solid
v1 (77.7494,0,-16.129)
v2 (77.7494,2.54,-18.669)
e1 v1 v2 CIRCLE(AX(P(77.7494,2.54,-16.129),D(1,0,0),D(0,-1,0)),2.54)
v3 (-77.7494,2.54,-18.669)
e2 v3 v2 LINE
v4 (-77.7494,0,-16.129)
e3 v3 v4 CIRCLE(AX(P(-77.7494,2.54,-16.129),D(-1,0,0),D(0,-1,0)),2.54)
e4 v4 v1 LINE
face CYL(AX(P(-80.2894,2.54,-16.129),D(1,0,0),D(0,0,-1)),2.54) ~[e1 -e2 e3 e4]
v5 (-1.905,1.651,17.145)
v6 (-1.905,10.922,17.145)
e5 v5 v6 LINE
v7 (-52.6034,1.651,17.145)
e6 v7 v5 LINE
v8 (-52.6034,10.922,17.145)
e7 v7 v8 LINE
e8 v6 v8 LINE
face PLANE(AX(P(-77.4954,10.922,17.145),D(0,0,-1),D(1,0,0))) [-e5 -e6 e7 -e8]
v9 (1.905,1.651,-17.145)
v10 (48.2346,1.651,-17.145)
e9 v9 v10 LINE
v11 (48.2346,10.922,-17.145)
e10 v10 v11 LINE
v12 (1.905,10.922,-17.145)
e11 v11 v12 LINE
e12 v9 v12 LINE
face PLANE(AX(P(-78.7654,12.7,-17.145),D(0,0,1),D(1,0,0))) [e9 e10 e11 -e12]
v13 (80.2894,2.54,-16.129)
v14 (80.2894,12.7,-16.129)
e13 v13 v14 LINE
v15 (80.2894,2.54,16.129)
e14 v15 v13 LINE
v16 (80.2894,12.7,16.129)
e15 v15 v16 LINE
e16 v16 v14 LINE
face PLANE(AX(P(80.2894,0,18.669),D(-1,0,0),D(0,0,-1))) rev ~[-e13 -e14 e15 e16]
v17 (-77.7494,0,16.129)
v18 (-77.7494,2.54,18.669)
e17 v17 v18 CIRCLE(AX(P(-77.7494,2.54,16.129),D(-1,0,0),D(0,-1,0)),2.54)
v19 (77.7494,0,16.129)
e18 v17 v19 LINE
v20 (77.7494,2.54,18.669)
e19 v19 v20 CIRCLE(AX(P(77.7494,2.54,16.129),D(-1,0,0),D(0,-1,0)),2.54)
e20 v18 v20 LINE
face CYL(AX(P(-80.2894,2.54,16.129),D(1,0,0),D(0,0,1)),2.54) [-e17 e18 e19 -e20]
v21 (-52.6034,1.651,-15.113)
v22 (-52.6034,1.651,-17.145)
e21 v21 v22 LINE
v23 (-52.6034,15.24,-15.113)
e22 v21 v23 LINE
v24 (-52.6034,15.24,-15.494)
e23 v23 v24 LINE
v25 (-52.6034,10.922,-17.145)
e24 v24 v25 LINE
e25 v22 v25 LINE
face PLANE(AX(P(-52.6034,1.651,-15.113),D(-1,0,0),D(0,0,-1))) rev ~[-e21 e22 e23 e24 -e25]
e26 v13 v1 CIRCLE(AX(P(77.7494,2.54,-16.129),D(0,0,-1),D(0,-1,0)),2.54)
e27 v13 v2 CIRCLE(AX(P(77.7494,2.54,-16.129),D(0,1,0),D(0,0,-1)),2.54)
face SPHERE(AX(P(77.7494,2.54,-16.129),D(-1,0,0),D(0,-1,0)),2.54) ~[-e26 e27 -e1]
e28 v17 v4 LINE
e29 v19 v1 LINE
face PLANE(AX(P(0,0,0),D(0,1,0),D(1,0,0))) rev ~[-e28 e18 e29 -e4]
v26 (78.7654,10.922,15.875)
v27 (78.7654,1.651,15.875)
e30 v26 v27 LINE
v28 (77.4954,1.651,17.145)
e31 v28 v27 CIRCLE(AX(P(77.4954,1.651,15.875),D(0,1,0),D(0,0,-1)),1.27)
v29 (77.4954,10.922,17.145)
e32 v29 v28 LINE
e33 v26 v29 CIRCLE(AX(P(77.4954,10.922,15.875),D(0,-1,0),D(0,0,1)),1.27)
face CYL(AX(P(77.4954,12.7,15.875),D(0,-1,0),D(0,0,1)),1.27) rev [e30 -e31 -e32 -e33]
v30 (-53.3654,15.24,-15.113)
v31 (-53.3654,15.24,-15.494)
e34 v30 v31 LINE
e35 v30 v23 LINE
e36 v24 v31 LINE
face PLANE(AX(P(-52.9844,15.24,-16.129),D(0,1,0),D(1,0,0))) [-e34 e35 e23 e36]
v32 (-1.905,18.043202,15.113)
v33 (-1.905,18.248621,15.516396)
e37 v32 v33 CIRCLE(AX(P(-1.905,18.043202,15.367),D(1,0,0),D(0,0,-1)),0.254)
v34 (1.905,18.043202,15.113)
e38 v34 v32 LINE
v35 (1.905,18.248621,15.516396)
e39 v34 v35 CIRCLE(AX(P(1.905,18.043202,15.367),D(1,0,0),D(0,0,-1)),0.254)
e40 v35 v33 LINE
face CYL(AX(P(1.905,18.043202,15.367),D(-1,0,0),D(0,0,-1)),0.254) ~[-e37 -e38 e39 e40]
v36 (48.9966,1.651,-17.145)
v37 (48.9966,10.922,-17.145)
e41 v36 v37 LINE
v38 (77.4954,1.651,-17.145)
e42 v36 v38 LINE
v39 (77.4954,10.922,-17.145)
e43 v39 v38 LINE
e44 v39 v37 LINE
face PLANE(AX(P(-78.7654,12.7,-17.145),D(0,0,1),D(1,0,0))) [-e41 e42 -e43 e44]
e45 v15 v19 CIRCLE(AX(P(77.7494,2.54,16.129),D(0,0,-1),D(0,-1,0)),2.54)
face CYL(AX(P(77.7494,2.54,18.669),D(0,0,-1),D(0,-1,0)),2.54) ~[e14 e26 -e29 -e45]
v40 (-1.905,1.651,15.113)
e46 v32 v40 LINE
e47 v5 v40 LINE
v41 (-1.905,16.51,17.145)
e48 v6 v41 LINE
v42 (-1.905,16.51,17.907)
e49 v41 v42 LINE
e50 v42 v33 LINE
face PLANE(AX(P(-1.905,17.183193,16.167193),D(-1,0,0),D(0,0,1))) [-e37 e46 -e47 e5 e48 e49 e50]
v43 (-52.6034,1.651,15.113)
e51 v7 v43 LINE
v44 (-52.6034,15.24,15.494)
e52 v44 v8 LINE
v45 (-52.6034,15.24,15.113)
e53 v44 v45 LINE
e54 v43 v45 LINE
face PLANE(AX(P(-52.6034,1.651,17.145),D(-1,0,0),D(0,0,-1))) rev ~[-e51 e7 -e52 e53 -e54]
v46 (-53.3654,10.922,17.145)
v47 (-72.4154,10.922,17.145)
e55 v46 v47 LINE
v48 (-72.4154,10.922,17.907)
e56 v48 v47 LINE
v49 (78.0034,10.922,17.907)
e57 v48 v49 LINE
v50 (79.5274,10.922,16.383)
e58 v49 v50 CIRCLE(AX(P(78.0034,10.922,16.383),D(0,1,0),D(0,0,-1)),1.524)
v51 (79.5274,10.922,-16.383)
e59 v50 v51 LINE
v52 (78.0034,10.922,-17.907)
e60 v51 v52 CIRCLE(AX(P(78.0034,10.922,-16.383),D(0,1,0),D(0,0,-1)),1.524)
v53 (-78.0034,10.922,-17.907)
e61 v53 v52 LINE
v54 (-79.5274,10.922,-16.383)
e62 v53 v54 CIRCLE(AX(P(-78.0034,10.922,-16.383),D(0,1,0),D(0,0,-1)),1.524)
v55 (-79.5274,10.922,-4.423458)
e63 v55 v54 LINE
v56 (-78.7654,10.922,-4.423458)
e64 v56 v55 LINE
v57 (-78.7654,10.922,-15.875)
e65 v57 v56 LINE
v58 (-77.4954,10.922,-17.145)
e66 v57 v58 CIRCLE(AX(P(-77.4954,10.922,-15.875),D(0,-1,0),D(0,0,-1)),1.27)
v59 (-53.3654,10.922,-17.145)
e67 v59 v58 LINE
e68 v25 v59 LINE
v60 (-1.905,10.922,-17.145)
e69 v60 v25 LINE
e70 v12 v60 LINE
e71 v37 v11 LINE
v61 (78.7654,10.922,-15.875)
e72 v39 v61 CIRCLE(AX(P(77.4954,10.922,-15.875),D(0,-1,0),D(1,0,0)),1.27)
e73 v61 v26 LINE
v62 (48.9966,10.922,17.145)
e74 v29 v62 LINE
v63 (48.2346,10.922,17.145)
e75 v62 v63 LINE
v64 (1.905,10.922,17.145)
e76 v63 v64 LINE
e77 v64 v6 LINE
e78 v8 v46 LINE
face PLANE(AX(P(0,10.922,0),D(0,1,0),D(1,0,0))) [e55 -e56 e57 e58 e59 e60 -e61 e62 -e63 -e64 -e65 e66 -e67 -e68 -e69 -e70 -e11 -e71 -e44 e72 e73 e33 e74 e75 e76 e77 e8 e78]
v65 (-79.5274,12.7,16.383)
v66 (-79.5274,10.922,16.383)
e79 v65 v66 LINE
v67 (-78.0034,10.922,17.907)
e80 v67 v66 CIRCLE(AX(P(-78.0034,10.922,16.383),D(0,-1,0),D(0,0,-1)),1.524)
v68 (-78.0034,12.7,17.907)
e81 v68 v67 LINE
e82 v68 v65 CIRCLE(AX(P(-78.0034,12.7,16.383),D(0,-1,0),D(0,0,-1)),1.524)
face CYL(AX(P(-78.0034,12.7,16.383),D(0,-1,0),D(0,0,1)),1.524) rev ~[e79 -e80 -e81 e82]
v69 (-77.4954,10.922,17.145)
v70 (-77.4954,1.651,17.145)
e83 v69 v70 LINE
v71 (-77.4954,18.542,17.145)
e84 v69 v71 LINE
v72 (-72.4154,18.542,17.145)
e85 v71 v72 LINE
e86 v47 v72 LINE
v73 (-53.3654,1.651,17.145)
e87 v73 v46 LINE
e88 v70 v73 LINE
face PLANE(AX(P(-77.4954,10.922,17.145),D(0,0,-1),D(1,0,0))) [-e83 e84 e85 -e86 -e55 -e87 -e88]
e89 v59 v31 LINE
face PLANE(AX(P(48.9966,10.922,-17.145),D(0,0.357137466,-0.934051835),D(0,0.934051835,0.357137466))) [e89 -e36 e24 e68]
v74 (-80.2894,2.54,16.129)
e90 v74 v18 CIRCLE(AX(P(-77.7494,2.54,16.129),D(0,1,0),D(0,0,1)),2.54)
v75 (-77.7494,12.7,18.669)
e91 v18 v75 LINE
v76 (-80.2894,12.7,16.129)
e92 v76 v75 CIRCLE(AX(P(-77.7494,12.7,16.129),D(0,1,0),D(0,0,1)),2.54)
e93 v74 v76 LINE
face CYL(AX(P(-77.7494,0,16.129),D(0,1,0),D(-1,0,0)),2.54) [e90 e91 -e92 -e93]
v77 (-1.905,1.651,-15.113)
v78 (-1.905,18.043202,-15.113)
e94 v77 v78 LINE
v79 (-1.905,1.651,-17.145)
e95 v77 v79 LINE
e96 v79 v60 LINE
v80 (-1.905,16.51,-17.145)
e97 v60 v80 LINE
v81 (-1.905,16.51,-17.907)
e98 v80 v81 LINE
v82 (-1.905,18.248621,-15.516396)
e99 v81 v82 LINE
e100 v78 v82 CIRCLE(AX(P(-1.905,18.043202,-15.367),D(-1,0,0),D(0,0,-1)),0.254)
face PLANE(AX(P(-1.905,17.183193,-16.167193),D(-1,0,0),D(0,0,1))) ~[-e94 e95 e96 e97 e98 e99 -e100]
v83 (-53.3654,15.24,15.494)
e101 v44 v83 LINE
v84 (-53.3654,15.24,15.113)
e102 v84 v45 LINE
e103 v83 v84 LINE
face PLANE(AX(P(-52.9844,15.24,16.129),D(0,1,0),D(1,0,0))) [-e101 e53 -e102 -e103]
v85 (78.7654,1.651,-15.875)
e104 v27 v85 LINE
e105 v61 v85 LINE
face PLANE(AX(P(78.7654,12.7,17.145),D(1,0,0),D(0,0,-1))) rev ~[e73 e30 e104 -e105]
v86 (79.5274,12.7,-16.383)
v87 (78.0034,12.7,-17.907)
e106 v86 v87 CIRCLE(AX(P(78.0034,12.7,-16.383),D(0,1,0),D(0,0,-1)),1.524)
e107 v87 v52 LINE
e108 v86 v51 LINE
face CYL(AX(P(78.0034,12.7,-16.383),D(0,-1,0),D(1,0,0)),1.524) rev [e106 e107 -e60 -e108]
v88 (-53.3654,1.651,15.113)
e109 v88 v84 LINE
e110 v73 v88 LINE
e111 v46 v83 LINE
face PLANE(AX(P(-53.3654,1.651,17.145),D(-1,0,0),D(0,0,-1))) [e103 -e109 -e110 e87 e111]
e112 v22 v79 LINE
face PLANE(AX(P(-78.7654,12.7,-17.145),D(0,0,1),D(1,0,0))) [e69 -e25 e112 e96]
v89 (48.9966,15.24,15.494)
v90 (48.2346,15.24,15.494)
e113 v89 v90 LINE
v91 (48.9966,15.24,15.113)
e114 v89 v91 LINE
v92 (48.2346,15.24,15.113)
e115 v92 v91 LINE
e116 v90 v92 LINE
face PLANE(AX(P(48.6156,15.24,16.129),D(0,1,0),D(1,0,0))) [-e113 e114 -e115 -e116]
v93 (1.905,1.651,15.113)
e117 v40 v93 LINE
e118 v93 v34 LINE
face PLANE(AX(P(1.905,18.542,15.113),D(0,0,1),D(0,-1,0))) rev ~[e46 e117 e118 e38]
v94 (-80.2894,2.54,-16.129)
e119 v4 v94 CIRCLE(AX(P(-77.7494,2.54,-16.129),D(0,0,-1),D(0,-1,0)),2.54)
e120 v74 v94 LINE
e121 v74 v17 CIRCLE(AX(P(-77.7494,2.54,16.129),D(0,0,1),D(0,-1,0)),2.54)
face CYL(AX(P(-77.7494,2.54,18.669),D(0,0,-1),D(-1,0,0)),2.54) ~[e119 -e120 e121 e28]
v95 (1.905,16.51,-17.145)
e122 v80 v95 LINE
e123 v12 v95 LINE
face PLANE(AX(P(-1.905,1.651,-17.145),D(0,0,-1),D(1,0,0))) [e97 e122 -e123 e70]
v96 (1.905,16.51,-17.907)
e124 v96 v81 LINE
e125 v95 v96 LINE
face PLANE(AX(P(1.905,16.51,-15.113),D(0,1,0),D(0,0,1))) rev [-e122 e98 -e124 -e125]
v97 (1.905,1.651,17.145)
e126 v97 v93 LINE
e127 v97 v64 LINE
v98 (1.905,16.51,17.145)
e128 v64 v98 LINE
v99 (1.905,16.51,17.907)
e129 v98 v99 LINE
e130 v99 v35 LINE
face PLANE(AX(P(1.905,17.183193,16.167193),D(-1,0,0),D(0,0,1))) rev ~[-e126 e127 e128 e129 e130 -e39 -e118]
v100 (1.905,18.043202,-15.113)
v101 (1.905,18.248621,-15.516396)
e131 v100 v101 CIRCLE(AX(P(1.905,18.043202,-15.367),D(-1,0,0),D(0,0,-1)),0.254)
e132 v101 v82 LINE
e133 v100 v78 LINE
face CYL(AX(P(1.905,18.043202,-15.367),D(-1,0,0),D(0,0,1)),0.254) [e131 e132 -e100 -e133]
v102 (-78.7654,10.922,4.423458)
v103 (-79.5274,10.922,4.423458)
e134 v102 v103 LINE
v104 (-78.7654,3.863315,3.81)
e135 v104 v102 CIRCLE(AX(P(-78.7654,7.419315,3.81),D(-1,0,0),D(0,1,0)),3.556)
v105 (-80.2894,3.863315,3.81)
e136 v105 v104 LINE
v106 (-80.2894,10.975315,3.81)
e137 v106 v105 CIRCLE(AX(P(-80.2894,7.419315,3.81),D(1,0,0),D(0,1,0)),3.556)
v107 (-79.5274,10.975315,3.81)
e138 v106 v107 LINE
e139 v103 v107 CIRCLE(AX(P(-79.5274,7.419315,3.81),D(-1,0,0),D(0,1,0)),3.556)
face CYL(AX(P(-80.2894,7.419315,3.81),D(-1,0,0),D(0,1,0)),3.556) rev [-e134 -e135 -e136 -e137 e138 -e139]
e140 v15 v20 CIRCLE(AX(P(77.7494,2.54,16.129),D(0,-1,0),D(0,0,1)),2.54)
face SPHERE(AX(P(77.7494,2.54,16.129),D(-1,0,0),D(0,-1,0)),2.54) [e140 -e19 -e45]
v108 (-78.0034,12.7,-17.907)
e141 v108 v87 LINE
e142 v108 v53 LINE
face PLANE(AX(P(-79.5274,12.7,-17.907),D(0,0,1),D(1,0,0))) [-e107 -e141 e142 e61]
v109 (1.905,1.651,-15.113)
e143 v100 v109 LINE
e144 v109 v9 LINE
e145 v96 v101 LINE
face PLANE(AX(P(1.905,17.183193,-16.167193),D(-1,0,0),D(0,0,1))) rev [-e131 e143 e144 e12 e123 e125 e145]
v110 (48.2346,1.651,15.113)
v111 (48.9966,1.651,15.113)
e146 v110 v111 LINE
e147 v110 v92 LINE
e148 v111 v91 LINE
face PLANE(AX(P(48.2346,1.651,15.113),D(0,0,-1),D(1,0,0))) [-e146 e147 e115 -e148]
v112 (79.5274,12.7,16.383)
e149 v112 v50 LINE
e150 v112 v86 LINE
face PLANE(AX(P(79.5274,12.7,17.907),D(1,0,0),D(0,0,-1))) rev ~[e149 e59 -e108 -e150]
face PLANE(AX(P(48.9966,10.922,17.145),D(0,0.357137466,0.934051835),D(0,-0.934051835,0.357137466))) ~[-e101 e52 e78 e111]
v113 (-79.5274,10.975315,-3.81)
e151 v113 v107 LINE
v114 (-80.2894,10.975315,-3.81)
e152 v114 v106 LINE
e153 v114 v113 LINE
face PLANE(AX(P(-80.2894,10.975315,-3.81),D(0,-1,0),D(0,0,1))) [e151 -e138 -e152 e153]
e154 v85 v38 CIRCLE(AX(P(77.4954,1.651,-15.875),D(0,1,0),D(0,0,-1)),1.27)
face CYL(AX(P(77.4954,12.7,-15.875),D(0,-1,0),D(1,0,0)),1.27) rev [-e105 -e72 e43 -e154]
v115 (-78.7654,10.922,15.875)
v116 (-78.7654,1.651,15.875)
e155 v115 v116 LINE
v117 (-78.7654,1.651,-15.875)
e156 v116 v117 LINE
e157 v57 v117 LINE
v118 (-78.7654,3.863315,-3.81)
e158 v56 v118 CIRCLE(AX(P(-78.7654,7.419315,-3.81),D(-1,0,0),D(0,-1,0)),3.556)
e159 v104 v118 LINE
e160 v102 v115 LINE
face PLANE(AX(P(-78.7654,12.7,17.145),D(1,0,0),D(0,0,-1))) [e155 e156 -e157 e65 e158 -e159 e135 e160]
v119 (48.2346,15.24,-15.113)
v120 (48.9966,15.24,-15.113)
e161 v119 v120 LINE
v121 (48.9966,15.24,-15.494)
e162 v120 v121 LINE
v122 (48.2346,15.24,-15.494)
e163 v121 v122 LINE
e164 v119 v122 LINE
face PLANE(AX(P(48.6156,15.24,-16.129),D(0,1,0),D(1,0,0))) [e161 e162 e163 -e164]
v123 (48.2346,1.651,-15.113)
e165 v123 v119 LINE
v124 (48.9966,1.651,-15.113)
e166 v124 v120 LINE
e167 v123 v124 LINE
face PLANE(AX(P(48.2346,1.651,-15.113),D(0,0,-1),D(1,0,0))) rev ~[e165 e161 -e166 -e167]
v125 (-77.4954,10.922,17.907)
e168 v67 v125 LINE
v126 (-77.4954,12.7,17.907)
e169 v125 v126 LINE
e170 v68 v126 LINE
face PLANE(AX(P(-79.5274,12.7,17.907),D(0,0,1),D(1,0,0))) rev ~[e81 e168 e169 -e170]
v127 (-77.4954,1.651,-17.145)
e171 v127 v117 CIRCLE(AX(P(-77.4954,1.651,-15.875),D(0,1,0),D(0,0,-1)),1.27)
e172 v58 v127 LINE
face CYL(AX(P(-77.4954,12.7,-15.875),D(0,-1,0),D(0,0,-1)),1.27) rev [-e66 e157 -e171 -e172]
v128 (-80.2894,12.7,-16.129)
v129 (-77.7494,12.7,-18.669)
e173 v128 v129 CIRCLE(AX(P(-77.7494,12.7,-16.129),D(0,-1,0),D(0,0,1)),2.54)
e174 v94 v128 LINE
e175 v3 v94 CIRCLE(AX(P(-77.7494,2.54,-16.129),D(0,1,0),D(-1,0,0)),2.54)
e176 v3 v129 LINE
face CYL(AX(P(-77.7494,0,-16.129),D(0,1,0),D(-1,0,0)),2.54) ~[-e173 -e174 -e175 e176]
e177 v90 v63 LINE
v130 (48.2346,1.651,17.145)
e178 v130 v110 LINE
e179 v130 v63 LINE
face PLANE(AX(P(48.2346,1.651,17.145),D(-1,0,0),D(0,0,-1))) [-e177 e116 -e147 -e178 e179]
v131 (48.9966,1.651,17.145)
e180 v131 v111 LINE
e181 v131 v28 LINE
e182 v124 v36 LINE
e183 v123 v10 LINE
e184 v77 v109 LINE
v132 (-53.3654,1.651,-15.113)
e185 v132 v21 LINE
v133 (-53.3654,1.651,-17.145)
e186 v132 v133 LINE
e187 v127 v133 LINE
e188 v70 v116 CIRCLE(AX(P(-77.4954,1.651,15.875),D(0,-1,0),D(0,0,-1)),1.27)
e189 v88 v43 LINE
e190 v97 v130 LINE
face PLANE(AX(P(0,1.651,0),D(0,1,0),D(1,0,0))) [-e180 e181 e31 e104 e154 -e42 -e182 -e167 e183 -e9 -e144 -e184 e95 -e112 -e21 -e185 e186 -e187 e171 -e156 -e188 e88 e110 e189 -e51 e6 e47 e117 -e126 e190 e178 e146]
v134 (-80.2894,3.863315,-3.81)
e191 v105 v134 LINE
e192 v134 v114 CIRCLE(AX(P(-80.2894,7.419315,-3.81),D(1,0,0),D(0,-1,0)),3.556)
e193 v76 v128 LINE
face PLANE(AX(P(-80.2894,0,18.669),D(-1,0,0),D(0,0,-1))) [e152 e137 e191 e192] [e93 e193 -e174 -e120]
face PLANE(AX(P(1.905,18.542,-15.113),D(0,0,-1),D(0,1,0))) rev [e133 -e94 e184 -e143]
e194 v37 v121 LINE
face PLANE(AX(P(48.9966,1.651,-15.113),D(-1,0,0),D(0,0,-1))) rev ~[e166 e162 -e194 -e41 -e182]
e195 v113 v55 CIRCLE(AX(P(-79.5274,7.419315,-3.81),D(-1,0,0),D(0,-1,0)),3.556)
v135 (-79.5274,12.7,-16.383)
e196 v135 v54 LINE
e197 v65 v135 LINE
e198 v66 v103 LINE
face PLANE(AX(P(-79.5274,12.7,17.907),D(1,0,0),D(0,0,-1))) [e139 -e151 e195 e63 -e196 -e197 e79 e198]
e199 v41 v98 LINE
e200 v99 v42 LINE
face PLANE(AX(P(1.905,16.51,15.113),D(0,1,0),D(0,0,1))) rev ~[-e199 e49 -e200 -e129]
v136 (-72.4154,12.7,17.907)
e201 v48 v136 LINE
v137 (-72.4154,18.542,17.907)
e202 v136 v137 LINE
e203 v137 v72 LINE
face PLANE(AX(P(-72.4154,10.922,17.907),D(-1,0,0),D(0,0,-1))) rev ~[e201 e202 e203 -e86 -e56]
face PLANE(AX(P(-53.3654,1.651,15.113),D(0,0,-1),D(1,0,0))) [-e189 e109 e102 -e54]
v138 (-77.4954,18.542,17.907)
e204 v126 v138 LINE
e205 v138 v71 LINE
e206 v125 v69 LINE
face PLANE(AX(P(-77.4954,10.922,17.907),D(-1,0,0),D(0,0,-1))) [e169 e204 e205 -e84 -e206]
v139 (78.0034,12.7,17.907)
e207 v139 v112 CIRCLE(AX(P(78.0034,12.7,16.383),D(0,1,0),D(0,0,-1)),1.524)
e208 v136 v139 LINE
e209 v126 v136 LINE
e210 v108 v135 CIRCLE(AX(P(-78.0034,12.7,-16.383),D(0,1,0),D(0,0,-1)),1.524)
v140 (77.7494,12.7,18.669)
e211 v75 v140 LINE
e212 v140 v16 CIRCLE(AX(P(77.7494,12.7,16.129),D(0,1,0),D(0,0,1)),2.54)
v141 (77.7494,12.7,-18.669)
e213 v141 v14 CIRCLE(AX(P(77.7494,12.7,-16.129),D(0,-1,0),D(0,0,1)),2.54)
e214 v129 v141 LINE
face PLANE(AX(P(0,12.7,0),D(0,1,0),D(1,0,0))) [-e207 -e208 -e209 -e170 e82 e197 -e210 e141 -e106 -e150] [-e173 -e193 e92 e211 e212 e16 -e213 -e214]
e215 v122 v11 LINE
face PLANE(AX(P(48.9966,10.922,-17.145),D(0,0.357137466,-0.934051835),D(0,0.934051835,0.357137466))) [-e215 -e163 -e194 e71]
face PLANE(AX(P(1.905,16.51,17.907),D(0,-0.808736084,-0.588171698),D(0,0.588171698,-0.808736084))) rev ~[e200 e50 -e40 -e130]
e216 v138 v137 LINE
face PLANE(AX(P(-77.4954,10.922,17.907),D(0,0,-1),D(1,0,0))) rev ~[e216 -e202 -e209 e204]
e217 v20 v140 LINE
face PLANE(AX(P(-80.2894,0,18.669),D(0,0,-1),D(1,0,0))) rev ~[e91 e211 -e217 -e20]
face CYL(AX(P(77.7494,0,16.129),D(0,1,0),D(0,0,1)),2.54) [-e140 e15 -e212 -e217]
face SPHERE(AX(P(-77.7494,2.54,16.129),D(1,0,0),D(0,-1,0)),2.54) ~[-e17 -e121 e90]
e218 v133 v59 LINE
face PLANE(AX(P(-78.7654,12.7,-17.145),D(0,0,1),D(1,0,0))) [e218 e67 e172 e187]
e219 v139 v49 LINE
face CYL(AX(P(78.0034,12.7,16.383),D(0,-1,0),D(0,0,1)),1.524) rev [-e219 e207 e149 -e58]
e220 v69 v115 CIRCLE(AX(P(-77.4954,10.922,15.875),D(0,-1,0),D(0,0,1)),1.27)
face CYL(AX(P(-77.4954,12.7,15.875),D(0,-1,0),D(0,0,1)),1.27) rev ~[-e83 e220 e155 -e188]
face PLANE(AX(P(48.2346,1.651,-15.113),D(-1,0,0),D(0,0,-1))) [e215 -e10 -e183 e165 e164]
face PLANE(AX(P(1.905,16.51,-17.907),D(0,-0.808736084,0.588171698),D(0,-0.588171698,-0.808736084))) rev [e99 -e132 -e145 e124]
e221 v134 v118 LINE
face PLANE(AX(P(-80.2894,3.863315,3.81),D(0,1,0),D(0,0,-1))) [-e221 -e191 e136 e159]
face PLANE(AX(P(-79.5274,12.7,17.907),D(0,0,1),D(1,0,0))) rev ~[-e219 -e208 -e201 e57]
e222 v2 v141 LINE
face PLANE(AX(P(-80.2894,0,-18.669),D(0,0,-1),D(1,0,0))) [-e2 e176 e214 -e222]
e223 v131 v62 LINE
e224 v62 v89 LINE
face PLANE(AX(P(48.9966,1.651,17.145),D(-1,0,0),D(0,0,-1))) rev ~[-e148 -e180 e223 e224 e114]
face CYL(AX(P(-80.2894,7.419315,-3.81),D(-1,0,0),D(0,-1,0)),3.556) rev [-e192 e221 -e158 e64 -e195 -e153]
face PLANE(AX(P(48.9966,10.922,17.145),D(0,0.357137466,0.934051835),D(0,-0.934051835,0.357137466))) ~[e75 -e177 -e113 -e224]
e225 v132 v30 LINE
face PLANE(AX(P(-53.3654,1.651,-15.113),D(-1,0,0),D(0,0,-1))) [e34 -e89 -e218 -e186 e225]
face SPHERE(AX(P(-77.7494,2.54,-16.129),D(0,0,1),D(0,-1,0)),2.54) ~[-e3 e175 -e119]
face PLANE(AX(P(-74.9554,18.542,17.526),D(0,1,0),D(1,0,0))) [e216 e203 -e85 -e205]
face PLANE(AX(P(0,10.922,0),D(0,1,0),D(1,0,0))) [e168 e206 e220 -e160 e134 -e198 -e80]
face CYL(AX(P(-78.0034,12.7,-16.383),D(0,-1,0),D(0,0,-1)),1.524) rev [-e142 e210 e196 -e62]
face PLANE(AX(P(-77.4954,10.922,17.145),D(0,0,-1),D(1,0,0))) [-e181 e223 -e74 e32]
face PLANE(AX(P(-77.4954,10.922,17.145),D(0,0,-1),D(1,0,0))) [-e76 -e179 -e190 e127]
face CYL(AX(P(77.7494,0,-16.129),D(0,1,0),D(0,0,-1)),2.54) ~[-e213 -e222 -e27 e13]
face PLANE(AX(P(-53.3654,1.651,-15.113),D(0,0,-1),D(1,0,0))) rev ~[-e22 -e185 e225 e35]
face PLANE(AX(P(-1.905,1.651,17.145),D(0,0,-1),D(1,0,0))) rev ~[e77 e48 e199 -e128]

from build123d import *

# Parameters (mm, degrees)
SKETCH1_W            = 160.5788
SKETCH1_H            = 37.338
BOSS_EXTRUDE1_DEPTH  = 12.7
SKETCH2_W            = 157.5308
SKETCH2_H            = 34.29
CUT_EXTRUDE3_DEPTH   = 11.049
FILLET1_R            = 2.54
FILLET2_R            = 1.27
CUT_EXTRUDE4_REACH   = 164.158
SKETCH4_W            = 159.0548
SKETCH4_H            = 35.814
CUT_EXTRUDE5_DEPTH   = 1.778
FILLET3_R            = 1.524
SKETCH5_W            = 5.08
SKETCH5_H            = 0.762
BOSS_EXTRUDE2_DEPTH  = 7.62
SKETCH6_W            = 0.762
SKETCH6_H            = 2.032
BOSS_EXTRUDE3_DEPTH  = 13.589
LPATTERN1_COUNT      = 2
LPATTERN1_PITCH      = 101.6
LPATTERN1_COUNT_DIR2 = 2
LPATTERN1_PITCH_DIR2 = 32.258
CUT_EXTRUDE6_REACH   = 133.936
SKETCH8_W            = 3.81
SKETCH8_H            = 2.032
BOSS_EXTRUDE4_DEPTH  = 14.859
BOSS_EXTRUDE9_DEPTH  = 3.81
FILLET4_R            = 0.254
FILLET4_OF_MIRROR2_R = 0.254


with BuildPart() as part:
    # Sketch1 → Boss-Extrude1 (new body)
    with BuildSketch(Plane(origin=(0, 0, 0), x_dir=(1, 0, 0), z_dir=(0, 1, 0))):
        Rectangle(SKETCH1_W, SKETCH1_H)
    extrude(amount=BOSS_EXTRUDE1_DEPTH)

    # Sketch2 → Cut-Extrude3 (cut)
    with BuildSketch(Plane(origin=(0, 12.7, 0), x_dir=(1, 0, 0), z_dir=(0, 1, 0))):
        Rectangle(SKETCH2_W, SKETCH2_H)
    extrude(amount=-CUT_EXTRUDE3_DEPTH, mode=Mode.SUBTRACT)

    # Fillet1
    fillet1_edges = [part.edges().sort_by_distance(p)[0] for p in [
        (0, 0, 18.669),
        (-80.2894, 0, 0),
        (0, 0, -18.669),
        (80.2894, 0, 0),
        (80.2894, 6.35, 18.669),
        (-80.2894, 6.35, 18.669),
        (-80.2894, 6.35, -18.669),
        (80.2894, 6.35, -18.669),
    ]]
    fillet(fillet1_edges, radius=FILLET1_R)

    # Fillet2
    fillet2_edges = [part.edges().sort_by_distance(p)[0] for p in [
        (-78.7654, 7.1755, -17.145),
        (-78.7654, 7.1755, 17.145),
        (78.7654, 7.1755, 17.145),
        (78.7654, 7.1755, -17.145),
    ]]
    fillet(fillet2_edges, radius=FILLET2_R)

    # Sketch3 → Cut-Extrude4 (cut, up to next)
    with BuildSketch(Plane.ZY.offset(80.2894), mode=Mode.PRIVATE) as cut_extrude4_sk1:
        with BuildLine():
            Line((3.81, 3.8633146), (-3.81, 3.8633146))
            ThreePointArc((-3.81, 3.8633146), (-7.366, 7.4193146), (-3.81, 10.9753146))
            Line((-3.81, 10.9753146), (3.81, 10.9753146))
            ThreePointArc((3.81, 10.9753146), (7.366, 7.4193146), (3.81, 3.8633146))
        make_face()
    cut_extrude4_tool1 = extrude(cut_extrude4_sk1.sketch, amount=-CUT_EXTRUDE4_REACH, mode=Mode.PRIVATE) & part.part
    add(cut_extrude4_tool1.solids().sort_by_distance((-80.2894, 7.419315, 0))[0], mode=Mode.SUBTRACT)

    # Sketch4 → Cut-Extrude5 (cut)
    with BuildSketch(Plane(origin=(0, 12.7, 0), x_dir=(1, 0, 0), z_dir=(0, 1, 0))):
        Rectangle(SKETCH4_W, SKETCH4_H)
    extrude(amount=-CUT_EXTRUDE5_DEPTH, mode=Mode.SUBTRACT)

    # Fillet3
    fillet3_edges = [part.edges().sort_by_distance(p)[0] for p in [
        (-79.5274, 11.811, 17.907),
        (-79.5274, 11.811, -17.907),
        (79.5274, 11.811, -17.907),
        (79.5274, 11.811, 17.907),
    ]]
    fillet(fillet3_edges, radius=FILLET3_R)

    # Sketch5 → Boss-Extrude2 (add)
    with BuildSketch(Plane(origin=(0, 10.922, 0), x_dir=(1, 0, 0), z_dir=(0, 1, 0))):
        with Locations((-74.9554, -17.526)):
            Rectangle(SKETCH5_W, SKETCH5_H)
    extrude(amount=BOSS_EXTRUDE2_DEPTH)

    # Sketch6 → Boss-Extrude3 (add)
    with BuildSketch(Plane(origin=(0, 1.651, 0), x_dir=(1, 0, 0), z_dir=(0, 1, 0))):
        with Locations((-52.9844, 16.129)):
            Rectangle(SKETCH6_W, SKETCH6_H)
    boss_extrude3 = extrude(amount=BOSS_EXTRUDE3_DEPTH)

    # LPattern1: Boss-Extrude3 2 × 2
    with Locations(*[(i * LPATTERN1_PITCH, 0, j * LPATTERN1_PITCH_DIR2) for i in range(LPATTERN1_COUNT) for j in range(LPATTERN1_COUNT_DIR2) if (i, j) != (0, 0)]):
        add(boss_extrude3)

    # Cut-Extrude6: up to this face of the body (flat: up to its plane)
    cut_extrude6_end = Plane(part.part.faces().sort_by_distance((-53.3654, 8.4455, -16.129))[0])
    # Sketch7 → Cut-Extrude6 (cut, up to the picked face)
    with BuildSketch(Plane(origin=(48.9966, 0, 0), x_dir=(0, 0, -1), z_dir=(1, 0, 0)), mode=Mode.PRIVATE) as cut_extrude6_sk1:
        Polygon((17.145, 10.922), (15.494, 15.24), (17.145, 15.24), align=None)
    cut_extrude6_tool1 = split(extrude(cut_extrude6_sk1.sketch, amount=-CUT_EXTRUDE6_REACH, mode=Mode.PRIVATE), bisect_by=cut_extrude6_end, keep=Keep.BOTH, mode=Mode.PRIVATE)
    cut_extrude6 = cut_extrude6_tool1.solids().sort_by(Axis((48.9966, 13.800667, -16.594667), (-1, 0, 0)))[0]
    add(cut_extrude6, mode=Mode.SUBTRACT)

    # Mirror1: Cut-Extrude6 across plane
    add(cut_extrude6.mirror(Plane.XY), mode=Mode.SUBTRACT)

    # Sketch8 → Boss-Extrude4 (add)
    with BuildSketch(Plane(origin=(0, 1.651, 0), x_dir=(1, 0, 0), z_dir=(0, 1, 0))):
        with Locations((0, -16.129)):
            Rectangle(SKETCH8_W, SKETCH8_H)
        with Locations((0, 16.129)):
            Rectangle(SKETCH8_W, SKETCH8_H)
    extrude(amount=BOSS_EXTRUDE4_DEPTH)

    # Sketch9 → Boss-Extrude9 (add)
    with BuildSketch(Plane(origin=(1.905, 0, 0), x_dir=(0, 0, -1), z_dir=(1, 0, 0))):
        Polygon((-15.113, 16.51), (-17.907, 16.51), (-15.113, 18.542), align=None)
    boss_extrude9 = extrude(amount=-BOSS_EXTRUDE9_DEPTH)

    # Fillet4
    fillet4_edges = [part.edges().sort_by_distance(p)[0] for p in [
        (0, 18.542, 15.113),
    ]]
    fillet(fillet4_edges, radius=FILLET4_R)

    # Mirror2: Boss-Extrude9 across plane
    add(boss_extrude9.mirror(Plane.XY))

    # Fillet4 of Mirror2
    fillet4_of_mirror2_edges = [part.edges().sort_by_distance(p)[0] for p in [
        (0, 18.542, -15.113),
    ]]
    fillet(fillet4_of_mirror2_edges, radius=FILLET4_OF_MIRROR2_R)


solid = part.part
